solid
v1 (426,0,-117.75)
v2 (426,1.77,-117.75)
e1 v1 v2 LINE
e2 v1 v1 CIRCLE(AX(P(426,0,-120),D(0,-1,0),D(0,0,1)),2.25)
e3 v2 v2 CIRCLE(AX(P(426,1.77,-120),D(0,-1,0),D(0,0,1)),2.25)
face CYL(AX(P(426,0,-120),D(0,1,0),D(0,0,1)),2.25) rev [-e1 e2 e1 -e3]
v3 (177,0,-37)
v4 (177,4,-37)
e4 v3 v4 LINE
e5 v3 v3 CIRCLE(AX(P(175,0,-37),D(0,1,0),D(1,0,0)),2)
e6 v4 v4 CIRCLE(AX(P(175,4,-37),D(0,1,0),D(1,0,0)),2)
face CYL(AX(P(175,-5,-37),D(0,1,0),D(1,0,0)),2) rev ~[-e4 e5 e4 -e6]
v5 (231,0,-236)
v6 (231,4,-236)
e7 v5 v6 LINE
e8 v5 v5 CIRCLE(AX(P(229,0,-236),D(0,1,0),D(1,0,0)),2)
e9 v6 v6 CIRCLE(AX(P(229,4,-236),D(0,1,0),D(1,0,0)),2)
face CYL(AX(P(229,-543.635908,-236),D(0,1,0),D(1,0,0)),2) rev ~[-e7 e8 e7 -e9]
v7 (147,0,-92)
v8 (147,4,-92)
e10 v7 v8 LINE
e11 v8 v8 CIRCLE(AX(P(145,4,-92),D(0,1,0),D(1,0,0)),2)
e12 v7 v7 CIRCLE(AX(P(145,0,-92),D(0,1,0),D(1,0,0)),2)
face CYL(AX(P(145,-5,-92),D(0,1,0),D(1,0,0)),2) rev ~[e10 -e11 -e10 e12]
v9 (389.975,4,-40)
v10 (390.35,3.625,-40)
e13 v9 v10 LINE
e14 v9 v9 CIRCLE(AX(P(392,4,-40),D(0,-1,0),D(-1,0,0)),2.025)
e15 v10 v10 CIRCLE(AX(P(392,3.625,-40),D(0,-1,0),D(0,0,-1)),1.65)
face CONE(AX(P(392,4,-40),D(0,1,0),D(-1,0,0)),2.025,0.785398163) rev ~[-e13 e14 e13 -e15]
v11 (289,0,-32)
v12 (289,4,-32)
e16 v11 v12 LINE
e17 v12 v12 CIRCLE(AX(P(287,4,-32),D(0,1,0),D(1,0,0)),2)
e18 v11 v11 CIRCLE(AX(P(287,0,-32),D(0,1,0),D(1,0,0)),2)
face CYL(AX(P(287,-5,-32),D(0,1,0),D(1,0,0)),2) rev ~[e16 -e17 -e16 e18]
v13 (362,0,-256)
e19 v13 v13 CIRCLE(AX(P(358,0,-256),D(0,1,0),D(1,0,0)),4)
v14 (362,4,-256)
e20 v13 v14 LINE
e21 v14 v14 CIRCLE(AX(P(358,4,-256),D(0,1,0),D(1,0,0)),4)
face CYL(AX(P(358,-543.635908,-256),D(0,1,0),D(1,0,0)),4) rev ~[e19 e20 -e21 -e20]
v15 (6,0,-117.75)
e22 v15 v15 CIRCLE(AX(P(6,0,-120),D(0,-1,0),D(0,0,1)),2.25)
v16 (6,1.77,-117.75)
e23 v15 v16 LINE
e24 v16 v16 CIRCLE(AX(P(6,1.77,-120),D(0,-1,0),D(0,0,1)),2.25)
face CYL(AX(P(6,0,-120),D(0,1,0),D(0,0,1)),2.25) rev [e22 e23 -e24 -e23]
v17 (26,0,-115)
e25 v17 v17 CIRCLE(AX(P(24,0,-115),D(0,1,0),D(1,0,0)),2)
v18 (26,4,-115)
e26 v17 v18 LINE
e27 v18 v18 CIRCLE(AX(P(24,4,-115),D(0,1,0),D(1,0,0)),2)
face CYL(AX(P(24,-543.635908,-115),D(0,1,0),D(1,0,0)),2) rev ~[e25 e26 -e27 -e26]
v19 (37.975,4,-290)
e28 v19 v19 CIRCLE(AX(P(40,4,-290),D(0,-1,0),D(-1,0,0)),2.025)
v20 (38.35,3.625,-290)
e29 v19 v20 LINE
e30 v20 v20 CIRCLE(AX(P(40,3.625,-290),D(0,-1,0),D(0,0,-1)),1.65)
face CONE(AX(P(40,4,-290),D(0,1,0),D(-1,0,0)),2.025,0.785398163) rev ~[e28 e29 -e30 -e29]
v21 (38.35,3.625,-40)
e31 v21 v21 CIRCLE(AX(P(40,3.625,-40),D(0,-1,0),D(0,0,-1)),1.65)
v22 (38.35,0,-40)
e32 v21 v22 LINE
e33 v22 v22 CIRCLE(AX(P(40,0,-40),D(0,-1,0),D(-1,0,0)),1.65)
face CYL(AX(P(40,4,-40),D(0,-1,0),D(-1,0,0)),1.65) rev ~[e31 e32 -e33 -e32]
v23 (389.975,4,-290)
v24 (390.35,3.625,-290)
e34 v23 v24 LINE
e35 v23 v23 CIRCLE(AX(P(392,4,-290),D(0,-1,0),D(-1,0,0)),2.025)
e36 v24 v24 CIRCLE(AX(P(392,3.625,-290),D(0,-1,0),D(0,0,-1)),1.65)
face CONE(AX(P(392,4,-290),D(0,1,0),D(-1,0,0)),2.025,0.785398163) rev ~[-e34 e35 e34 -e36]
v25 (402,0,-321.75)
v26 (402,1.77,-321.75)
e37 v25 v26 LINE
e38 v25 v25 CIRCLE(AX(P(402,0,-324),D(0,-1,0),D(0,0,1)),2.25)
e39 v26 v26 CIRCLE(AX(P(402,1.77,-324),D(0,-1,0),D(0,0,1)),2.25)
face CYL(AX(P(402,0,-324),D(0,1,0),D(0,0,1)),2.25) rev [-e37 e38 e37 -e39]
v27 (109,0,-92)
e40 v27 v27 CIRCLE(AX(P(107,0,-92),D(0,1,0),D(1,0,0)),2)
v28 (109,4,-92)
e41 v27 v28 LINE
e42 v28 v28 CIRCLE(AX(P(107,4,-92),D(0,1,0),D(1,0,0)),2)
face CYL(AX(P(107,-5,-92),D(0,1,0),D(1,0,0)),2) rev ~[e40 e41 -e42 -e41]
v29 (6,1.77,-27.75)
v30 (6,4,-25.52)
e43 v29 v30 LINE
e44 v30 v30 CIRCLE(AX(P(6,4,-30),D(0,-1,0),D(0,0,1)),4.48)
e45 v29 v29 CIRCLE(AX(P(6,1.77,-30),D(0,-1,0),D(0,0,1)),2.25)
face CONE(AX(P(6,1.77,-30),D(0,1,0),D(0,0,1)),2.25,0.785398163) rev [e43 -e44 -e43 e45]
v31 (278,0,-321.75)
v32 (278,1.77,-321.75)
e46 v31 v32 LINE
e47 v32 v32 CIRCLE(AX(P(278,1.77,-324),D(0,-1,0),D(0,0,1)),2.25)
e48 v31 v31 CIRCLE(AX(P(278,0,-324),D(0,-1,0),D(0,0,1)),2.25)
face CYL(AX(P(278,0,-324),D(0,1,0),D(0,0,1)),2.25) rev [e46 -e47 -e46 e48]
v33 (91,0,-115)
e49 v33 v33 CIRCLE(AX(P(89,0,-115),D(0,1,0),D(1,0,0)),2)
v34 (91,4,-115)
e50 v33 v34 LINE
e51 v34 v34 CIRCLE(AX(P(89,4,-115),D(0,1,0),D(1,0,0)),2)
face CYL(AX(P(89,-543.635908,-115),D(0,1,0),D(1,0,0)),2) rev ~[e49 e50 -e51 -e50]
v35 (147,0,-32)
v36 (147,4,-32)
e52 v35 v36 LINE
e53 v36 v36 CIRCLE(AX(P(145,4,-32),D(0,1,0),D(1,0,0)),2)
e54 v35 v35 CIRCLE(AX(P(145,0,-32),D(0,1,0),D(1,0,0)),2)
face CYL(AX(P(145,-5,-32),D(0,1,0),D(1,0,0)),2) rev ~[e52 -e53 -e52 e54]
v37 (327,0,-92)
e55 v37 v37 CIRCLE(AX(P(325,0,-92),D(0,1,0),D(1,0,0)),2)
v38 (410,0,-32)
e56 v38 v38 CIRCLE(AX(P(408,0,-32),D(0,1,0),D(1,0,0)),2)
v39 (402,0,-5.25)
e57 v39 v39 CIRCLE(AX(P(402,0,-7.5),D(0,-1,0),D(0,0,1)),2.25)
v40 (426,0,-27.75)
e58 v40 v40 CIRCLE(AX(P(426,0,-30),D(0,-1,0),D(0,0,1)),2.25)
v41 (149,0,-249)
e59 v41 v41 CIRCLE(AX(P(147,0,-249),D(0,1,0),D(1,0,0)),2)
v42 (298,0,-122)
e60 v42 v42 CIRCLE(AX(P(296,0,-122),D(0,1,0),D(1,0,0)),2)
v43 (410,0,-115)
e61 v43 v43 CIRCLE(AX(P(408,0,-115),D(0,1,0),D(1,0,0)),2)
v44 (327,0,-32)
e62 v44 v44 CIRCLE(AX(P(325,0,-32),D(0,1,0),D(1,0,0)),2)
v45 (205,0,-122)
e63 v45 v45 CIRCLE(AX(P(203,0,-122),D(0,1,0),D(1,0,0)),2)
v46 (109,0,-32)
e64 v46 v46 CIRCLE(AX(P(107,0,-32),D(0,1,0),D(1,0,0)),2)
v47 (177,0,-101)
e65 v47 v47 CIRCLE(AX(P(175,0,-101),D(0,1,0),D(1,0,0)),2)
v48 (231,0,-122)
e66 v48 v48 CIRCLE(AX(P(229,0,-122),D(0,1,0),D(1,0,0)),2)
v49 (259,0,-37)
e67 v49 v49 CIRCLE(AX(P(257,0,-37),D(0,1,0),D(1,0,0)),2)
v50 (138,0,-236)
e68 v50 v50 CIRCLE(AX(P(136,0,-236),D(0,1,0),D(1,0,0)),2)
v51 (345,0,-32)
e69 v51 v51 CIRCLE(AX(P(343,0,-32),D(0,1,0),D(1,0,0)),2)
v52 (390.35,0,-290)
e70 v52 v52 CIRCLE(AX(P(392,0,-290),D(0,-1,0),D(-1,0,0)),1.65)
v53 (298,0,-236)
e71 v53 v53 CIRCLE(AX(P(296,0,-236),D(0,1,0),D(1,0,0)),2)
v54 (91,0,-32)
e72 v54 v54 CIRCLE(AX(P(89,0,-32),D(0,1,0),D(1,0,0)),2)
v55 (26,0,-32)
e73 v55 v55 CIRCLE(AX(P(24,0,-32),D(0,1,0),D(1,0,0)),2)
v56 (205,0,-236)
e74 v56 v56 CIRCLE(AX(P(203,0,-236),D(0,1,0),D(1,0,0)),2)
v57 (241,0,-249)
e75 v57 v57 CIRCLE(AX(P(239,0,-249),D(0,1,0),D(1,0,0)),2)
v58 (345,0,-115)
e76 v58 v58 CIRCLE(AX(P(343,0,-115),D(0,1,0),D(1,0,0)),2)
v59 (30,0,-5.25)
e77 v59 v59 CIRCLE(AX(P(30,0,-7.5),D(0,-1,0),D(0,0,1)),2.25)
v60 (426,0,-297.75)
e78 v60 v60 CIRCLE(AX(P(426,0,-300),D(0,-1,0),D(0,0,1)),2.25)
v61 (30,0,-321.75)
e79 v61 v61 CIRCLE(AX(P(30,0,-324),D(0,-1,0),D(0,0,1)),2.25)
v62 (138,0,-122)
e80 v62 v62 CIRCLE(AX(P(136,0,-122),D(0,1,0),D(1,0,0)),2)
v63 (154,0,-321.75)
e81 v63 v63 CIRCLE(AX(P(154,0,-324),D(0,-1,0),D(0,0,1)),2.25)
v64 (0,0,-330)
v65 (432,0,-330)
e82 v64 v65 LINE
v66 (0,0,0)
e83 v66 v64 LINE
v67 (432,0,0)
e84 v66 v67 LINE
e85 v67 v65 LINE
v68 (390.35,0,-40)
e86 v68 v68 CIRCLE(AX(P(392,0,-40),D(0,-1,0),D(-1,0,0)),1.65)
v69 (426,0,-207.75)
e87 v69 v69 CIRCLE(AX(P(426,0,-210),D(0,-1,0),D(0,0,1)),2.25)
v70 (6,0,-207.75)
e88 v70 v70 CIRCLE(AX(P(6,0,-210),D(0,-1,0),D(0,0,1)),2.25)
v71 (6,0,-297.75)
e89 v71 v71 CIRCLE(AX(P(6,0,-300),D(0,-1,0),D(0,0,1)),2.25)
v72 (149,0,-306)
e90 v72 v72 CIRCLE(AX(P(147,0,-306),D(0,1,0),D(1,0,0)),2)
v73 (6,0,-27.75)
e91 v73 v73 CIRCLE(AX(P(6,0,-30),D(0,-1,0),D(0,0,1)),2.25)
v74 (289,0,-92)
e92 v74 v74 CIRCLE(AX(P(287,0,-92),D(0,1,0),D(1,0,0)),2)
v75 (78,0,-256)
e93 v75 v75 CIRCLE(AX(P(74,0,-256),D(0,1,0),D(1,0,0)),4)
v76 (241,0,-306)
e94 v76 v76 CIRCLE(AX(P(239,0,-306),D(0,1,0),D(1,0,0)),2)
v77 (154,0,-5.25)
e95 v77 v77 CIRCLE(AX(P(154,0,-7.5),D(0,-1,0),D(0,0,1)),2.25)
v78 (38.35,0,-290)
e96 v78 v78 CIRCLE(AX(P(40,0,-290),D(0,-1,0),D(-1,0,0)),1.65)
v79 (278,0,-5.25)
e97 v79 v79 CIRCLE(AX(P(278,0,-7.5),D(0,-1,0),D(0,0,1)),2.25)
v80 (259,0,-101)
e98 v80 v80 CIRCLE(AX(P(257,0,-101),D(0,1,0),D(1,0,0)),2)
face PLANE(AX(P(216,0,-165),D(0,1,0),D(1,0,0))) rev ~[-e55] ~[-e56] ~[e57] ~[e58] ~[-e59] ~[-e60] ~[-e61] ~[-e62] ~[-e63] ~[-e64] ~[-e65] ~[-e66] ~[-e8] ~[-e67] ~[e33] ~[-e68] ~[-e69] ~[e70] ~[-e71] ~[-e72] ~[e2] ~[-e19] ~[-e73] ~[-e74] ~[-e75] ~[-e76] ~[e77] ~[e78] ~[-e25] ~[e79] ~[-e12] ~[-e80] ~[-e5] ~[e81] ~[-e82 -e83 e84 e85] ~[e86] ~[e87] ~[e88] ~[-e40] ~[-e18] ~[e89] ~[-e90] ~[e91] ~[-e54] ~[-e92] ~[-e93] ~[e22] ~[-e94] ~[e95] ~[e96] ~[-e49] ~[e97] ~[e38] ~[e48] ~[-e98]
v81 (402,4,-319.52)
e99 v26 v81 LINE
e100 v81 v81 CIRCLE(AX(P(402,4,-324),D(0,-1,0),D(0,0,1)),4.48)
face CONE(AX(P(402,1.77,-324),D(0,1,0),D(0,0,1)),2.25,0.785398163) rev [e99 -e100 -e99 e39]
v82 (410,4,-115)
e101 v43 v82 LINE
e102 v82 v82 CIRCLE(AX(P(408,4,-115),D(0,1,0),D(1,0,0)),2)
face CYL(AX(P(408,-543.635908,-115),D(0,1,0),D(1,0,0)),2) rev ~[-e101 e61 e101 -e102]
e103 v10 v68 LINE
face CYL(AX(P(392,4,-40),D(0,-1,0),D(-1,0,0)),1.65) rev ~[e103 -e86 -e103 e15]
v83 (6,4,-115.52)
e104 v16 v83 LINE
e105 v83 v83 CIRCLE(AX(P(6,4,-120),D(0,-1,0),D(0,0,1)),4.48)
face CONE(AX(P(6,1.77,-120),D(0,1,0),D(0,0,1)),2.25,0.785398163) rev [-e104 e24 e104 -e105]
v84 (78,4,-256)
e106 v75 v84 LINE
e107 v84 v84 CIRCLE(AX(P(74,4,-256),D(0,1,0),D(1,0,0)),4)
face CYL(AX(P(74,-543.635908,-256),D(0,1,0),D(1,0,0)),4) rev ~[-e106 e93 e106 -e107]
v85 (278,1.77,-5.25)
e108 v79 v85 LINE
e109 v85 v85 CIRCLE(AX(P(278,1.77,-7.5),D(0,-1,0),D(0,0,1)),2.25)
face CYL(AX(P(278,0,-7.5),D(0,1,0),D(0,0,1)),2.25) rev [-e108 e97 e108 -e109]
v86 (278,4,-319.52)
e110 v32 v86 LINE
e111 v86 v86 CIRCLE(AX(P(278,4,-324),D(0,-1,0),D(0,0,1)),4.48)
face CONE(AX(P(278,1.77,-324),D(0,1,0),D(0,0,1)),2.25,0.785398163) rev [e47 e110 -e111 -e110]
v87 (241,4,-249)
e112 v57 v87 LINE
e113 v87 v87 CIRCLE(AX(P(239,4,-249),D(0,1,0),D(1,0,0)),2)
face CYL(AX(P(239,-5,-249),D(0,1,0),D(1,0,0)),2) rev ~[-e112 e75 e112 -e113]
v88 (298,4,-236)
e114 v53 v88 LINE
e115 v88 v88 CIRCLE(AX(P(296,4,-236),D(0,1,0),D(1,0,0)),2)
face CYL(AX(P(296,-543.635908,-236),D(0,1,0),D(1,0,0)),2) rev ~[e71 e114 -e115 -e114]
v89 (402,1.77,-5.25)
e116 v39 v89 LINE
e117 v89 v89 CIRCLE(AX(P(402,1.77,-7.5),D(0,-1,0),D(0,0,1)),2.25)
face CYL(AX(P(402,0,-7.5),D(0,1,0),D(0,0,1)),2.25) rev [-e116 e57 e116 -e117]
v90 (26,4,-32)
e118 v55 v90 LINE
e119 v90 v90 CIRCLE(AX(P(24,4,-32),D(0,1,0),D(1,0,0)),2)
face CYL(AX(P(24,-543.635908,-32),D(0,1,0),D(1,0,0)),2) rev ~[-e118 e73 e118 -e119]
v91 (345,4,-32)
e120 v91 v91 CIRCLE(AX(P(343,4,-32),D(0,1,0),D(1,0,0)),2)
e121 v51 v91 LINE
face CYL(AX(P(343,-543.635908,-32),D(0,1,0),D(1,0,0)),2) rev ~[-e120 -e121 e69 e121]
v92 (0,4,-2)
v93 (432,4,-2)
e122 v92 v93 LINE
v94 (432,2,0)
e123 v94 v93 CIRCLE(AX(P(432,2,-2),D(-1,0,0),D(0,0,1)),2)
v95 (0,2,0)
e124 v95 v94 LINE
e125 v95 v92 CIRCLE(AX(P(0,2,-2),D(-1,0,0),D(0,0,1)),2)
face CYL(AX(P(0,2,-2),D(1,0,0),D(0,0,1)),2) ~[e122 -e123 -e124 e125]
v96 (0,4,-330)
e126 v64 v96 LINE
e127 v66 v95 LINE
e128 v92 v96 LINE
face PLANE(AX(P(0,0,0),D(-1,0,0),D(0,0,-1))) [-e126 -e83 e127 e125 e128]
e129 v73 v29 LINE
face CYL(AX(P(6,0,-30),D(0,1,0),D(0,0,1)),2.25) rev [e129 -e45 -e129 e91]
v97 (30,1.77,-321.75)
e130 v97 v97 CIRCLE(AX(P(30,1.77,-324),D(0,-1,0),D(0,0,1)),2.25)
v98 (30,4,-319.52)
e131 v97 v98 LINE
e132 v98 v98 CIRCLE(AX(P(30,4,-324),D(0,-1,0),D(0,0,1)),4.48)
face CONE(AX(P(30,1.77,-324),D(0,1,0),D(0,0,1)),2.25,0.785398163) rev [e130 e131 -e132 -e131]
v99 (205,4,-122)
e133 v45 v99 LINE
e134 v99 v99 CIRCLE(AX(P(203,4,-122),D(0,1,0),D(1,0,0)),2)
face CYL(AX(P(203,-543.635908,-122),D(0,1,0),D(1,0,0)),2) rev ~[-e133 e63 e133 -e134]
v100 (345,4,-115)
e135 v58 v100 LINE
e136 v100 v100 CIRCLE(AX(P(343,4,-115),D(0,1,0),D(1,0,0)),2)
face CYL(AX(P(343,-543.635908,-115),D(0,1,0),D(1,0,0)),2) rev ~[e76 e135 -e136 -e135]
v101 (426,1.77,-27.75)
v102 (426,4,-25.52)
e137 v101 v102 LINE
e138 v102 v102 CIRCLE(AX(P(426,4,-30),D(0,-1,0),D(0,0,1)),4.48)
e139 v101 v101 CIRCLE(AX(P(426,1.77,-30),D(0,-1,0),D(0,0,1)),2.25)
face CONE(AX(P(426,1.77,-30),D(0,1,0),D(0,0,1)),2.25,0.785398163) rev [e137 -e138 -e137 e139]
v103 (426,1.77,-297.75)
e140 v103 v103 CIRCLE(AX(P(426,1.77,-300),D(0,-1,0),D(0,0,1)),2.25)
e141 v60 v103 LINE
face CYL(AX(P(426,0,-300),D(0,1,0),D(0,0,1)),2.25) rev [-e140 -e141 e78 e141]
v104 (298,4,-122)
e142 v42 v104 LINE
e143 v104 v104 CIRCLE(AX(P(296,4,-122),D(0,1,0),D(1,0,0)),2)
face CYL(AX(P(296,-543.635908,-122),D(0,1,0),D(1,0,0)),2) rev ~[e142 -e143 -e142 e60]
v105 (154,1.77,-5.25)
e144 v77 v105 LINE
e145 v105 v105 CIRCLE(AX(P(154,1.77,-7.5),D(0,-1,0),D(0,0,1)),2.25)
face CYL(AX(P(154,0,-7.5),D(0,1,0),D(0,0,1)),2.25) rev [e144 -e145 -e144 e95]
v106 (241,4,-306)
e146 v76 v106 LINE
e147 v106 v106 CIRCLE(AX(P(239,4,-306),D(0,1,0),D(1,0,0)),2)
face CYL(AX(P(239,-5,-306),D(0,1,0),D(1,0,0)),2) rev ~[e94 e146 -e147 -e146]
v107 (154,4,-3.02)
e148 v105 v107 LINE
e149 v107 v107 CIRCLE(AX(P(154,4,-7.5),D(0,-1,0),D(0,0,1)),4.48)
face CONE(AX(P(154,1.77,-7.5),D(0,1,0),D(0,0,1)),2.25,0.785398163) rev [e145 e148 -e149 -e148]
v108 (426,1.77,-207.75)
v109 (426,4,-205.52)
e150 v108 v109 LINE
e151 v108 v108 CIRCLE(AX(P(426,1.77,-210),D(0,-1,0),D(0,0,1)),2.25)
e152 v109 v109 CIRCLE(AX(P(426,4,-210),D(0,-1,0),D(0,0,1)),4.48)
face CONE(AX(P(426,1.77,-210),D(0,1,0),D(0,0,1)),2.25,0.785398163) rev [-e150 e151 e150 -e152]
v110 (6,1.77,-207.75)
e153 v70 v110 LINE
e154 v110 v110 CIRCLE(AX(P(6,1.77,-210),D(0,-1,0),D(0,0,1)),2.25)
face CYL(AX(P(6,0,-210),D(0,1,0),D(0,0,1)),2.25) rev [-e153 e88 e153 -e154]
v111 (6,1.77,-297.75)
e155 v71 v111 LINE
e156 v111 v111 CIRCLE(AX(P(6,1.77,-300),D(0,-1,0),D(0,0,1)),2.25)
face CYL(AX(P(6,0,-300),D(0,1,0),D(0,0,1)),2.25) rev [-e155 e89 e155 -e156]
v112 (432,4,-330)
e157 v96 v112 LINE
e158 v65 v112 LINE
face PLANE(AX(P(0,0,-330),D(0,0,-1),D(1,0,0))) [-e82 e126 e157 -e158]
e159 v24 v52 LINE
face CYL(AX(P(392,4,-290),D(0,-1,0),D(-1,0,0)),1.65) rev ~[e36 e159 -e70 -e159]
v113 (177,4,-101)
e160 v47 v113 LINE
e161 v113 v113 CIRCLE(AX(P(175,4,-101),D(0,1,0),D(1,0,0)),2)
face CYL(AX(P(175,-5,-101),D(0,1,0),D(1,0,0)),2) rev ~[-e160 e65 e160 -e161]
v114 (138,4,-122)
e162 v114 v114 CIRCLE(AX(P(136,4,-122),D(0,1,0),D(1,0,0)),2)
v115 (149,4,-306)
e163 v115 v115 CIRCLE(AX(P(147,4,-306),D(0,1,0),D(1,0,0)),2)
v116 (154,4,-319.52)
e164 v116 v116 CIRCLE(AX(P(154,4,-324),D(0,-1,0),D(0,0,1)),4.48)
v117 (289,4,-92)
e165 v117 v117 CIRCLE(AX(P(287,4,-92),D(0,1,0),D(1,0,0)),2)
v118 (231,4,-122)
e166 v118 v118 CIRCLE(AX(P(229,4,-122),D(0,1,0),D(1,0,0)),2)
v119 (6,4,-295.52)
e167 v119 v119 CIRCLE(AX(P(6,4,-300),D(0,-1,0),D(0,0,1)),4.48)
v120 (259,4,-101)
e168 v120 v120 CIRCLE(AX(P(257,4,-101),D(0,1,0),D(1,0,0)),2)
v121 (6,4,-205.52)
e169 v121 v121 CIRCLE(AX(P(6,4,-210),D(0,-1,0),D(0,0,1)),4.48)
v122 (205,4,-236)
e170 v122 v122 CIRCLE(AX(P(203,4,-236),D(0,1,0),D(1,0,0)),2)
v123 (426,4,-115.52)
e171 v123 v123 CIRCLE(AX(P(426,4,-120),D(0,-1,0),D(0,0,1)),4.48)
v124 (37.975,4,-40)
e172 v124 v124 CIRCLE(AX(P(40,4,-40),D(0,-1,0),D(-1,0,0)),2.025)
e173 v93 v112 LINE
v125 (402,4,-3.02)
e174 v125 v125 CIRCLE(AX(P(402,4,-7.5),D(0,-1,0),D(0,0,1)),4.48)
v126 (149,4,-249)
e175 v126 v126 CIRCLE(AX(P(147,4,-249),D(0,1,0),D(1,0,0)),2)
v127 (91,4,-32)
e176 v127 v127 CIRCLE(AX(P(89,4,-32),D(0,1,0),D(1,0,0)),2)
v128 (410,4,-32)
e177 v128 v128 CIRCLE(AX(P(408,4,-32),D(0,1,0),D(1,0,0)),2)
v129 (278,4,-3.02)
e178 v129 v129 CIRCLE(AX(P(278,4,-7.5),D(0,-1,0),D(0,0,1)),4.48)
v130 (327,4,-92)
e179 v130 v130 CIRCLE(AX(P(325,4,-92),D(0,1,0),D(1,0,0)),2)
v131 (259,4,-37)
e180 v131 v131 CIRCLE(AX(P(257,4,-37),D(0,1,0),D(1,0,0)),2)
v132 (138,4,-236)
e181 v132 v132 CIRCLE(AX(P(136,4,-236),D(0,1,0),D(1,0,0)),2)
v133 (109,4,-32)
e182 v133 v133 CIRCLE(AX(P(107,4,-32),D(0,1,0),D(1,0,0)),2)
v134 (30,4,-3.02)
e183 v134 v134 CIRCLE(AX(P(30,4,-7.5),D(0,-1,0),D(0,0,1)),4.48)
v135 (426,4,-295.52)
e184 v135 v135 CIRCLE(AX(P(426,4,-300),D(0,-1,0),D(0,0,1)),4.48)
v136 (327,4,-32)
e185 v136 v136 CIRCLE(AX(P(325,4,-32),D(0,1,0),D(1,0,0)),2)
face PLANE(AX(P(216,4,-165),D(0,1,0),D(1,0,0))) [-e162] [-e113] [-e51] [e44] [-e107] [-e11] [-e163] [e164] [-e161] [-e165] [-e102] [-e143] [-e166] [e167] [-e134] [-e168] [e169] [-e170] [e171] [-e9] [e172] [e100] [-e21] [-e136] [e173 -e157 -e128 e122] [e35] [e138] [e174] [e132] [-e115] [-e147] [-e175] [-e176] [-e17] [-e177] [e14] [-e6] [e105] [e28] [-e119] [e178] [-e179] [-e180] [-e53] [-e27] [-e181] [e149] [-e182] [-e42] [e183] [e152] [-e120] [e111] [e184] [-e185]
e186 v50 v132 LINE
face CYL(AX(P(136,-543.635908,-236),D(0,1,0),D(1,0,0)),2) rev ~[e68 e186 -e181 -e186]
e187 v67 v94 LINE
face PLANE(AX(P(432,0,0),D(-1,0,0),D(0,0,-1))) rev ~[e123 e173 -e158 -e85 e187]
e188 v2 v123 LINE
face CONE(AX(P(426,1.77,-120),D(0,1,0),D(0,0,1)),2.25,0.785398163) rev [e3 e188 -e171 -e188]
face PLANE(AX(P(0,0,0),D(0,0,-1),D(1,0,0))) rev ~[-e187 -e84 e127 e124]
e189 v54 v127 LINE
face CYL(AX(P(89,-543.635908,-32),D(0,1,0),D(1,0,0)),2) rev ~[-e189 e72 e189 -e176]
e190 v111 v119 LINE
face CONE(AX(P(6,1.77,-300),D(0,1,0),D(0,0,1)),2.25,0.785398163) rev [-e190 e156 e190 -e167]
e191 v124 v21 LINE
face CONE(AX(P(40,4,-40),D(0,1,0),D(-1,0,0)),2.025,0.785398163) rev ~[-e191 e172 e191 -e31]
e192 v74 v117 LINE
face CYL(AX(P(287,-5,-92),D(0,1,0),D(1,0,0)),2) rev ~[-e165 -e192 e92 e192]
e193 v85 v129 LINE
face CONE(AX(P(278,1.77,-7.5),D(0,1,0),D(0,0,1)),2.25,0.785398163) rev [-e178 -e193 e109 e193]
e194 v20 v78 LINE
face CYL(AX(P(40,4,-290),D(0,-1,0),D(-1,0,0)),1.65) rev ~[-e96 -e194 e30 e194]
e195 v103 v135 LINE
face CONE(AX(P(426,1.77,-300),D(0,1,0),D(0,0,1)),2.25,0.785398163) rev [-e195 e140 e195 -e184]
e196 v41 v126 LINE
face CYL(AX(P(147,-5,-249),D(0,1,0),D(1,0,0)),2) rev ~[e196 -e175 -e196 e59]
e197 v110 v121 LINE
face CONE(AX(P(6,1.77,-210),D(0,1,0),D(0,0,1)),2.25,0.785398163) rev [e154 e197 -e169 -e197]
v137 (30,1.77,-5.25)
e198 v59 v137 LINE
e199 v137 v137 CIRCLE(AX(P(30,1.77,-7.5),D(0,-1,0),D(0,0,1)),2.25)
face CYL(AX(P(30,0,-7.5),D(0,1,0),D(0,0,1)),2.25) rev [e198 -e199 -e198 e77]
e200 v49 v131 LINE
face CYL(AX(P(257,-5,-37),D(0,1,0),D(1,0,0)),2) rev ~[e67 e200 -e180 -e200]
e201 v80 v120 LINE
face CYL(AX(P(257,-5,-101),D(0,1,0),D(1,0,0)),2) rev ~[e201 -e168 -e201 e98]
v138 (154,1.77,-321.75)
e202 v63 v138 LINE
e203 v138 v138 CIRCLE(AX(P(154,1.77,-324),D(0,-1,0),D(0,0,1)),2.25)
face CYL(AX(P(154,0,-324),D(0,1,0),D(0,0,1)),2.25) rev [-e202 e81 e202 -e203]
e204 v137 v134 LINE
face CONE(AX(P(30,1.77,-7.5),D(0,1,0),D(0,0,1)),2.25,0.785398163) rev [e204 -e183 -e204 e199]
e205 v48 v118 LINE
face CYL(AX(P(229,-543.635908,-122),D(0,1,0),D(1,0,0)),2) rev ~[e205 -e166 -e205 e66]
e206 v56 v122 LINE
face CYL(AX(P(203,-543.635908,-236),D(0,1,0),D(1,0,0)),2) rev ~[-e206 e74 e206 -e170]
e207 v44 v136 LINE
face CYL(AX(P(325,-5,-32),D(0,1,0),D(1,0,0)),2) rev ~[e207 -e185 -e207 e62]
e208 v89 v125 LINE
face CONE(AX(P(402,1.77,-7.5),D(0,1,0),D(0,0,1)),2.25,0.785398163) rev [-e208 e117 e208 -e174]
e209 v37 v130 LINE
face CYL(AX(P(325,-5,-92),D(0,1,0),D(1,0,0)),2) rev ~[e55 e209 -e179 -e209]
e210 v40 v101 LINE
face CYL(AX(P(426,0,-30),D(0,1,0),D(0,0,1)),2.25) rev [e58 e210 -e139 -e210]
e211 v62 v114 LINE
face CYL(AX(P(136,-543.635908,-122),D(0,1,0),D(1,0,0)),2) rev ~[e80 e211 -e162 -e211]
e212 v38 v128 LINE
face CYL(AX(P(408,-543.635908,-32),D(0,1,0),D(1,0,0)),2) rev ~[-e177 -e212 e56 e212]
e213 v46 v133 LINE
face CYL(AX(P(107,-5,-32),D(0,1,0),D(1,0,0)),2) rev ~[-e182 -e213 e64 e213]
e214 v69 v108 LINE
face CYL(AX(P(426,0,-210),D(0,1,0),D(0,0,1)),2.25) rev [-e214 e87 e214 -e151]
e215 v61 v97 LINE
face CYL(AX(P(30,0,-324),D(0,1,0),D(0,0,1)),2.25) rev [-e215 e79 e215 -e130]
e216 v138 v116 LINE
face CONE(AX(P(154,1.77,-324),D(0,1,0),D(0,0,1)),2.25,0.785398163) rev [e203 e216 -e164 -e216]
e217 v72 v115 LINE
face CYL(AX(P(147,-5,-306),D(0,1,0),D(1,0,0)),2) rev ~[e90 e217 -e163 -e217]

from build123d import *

# Parameters (mm, degrees)
SKETCH_1_W                     = 432
SKETCH_1_H                     = 330
EXTRUDE_1_DEPTH                = 4
HOLE_WIZARD_M4_1_AT_2_COUNT    = 2
HOLE_WIZARD_M4_1_AT_2_PITCH    = 90
HOLE_WIZARD_M4_1_AT_3_COUNT    = 2
HOLE_WIZARD_M4_1_AT_3_PITCH    = 180
HOLE_WIZARD_M4_1_AT_4_COUNT    = 2
HOLE_WIZARD_M4_1_AT_4_PITCH    = 270
HOLE_WIZARD_M4_1_AT_5_COUNT    = 2
HOLE_WIZARD_M4_1_AT_5_PITCH    = 293.48296373
HOLE_WIZARD_M4_1_AT_6_COUNT    = 2
HOLE_WIZARD_M4_1_AT_6_PITCH    = 327.811302429
HOLE_WIZARD_M4_1_AT_7_COUNT    = 2
HOLE_WIZARD_M4_1_AT_7_PITCH    = 399.424899074
HOLE_WIZARD_M4_1_AT_8_COUNT    = 2
HOLE_WIZARD_M4_1_AT_8_PITCH    = 492.31316253
HOLE_WIZARD_M4_1_AT_9_COUNT    = 2
HOLE_WIZARD_M4_1_AT_9_PITCH    = 499.299509313
HOLE_WIZARD_M4_1_AT_10_COUNT   = 2
HOLE_WIZARD_M4_1_AT_10_PITCH   = 456.946386352
HOLE_WIZARD_M4_1_AT_11_COUNT   = 2
HOLE_WIZARD_M4_1_AT_11_PITCH   = 429.534631898
HOLE_WIZARD_M4_1_AT_12_COUNT   = 2
HOLE_WIZARD_M4_1_AT_12_PITCH   = 420
HOLE_WIZARD_M4_1_AT_13_COUNT   = 2
HOLE_WIZARD_M4_1_AT_13_PITCH   = 396.726606116
HOLE_WIZARD_M4_1_AT_14_COUNT   = 2
HOLE_WIZARD_M4_1_AT_14_PITCH   = 273.056770654
HOLE_WIZARD_M4_1_AT_15_COUNT   = 2
HOLE_WIZARD_M4_1_AT_15_PITCH   = 149.933318512
HOLE_WIZARD_M4_1_AT_16_COUNT   = 2
HOLE_WIZARD_M4_1_AT_16_PITCH   = 33.941125497
FILLET_1_R                     = 2
HOLE_WIZARD_8_0_8_2_D          = 8
HOLE_WIZARD_4_0_4_1_D          = 4
HOLE_WIZARD_4_0_4_1_DEPTH      = 5
HOLE_WIZARD_4_0_4_1_TIP        = 1.201721238
HOLE_WIZARD_M4_1_2_D           = 3.3
HOLE_WIZARD_M4_1_2_CSINK_D     = 4.05
HOLE_WIZARD_M4_1_2_CSINK_ANGLE = 90
HOLE_WIZARD_4_0_4_2_D          = 4
HOLE_WIZARD_4_0_4_3_D          = 4
HOLE_WIZARD_4_0_4_3_DEPTH      = 5
HOLE_WIZARD_4_0_4_3_TIP        = 1.201721238


with BuildPart() as part:
    # 草圖1 → 填料-伸長1 (new body)
    with BuildSketch(Plane(origin=(0, 0, 0), x_dir=(1, 0, 0), z_dir=(0, 1, 0))):
        with Locations((216, 165)):
            Rectangle(SKETCH_1_W, SKETCH_1_H)
    extrude(amount=EXTRUDE_1_DEPTH)

    # 草圖2 → Hole Wizard M4 _1 (revolve, cut)
    with BuildSketch(Plane(origin=(6, 4, -300), x_dir=(0, 0, 1), z_dir=(1, 0, 0))):
        Polygon((0, 0), (0, 4), (2.25, 4), (2.25, 2.23), (4.48, 0), align=None)
    hole_wizard_m4_1 = revolve(axis=Axis((6, 10.35, -300), (0, -1, 0)), mode=Mode.SUBTRACT)

    # Hole Wizard M4 _1 at 2: Hole Wizard M4 _1 ×2
    with Locations(*[(0, 0, i * HOLE_WIZARD_M4_1_AT_2_PITCH) for i in range(1, HOLE_WIZARD_M4_1_AT_2_COUNT)]):
        add(hole_wizard_m4_1, mode=Mode.SUBTRACT)

    # Hole Wizard M4 _1 at 3: Hole Wizard M4 _1 ×2
    with Locations(*[(0, 0, i * HOLE_WIZARD_M4_1_AT_3_PITCH) for i in range(1, HOLE_WIZARD_M4_1_AT_3_COUNT)]):
        add(hole_wizard_m4_1, mode=Mode.SUBTRACT)

    # Hole Wizard M4 _1 at 4: Hole Wizard M4 _1 ×2
    with Locations(*[(0, 0, i * HOLE_WIZARD_M4_1_AT_4_PITCH) for i in range(1, HOLE_WIZARD_M4_1_AT_4_COUNT)]):
        add(hole_wizard_m4_1, mode=Mode.SUBTRACT)

    # Hole Wizard M4 _1 at 5: Hole Wizard M4 _1 ×2
    with Locations(*[Vector(0.081776467, 0, 0.996650696) * (i * HOLE_WIZARD_M4_1_AT_5_PITCH) for i in range(1, HOLE_WIZARD_M4_1_AT_5_COUNT)]):
        add(hole_wizard_m4_1, mode=Mode.SUBTRACT)

    # Hole Wizard M4 _1 at 6: Hole Wizard M4 _1 ×2
    with Locations(*[Vector(0.451479247, 0, 0.89228162) * (i * HOLE_WIZARD_M4_1_AT_6_PITCH) for i in range(1, HOLE_WIZARD_M4_1_AT_6_COUNT)]):
        add(hole_wizard_m4_1, mode=Mode.SUBTRACT)

    # Hole Wizard M4 _1 at 7: Hole Wizard M4 _1 ×2
    with Locations(*[Vector(0.680979079, 0, 0.73230287) * (i * HOLE_WIZARD_M4_1_AT_7_PITCH) for i in range(1, HOLE_WIZARD_M4_1_AT_7_COUNT)]):
        add(hole_wizard_m4_1, mode=Mode.SUBTRACT)

    # Hole Wizard M4 _1 at 8: Hole Wizard M4 _1 ×2
    with Locations(*[Vector(0.804366062, 0, 0.594134023) * (i * HOLE_WIZARD_M4_1_AT_8_PITCH) for i in range(1, HOLE_WIZARD_M4_1_AT_8_COUNT)]):
        add(hole_wizard_m4_1, mode=Mode.SUBTRACT)

    # Hole Wizard M4 _1 at 9: Hole Wizard M4 _1 ×2
    with Locations(*[Vector(0.841178475, 0, 0.540757591) * (i * HOLE_WIZARD_M4_1_AT_9_PITCH) for i in range(1, HOLE_WIZARD_M4_1_AT_9_COUNT)]):
        add(hole_wizard_m4_1, mode=Mode.SUBTRACT)

    # Hole Wizard M4 _1 at 10: Hole Wizard M4 _1 ×2
    with Locations(*[Vector(0.91914503, 0, 0.393919299) * (i * HOLE_WIZARD_M4_1_AT_10_PITCH) for i in range(1, HOLE_WIZARD_M4_1_AT_10_COUNT)]):
        add(hole_wizard_m4_1, mode=Mode.SUBTRACT)

    # Hole Wizard M4 _1 at 11: Hole Wizard M4 _1 ×2
    with Locations(*[Vector(0.977802414, 0, 0.209529089) * (i * HOLE_WIZARD_M4_1_AT_11_PITCH) for i in range(1, HOLE_WIZARD_M4_1_AT_11_COUNT)]):
        add(hole_wizard_m4_1, mode=Mode.SUBTRACT)

    # Hole Wizard M4 _1 at 12: Hole Wizard M4 _1 ×2
    with Locations(*[(i * HOLE_WIZARD_M4_1_AT_12_PITCH, 0, 0) for i in range(1, HOLE_WIZARD_M4_1_AT_12_COUNT)]):
        add(hole_wizard_m4_1, mode=Mode.SUBTRACT)

    # Hole Wizard M4 _1 at 13: Hole Wizard M4 _1 ×2
    with Locations(*[Vector(0.998168497, 0, -0.06049506) * (i * HOLE_WIZARD_M4_1_AT_13_PITCH) for i in range(1, HOLE_WIZARD_M4_1_AT_13_COUNT)]):
        add(hole_wizard_m4_1, mode=Mode.SUBTRACT)

    # Hole Wizard M4 _1 at 14: Hole Wizard M4 _1 ×2
    with Locations(*[Vector(0.99612985, 0, -0.08789381) * (i * HOLE_WIZARD_M4_1_AT_14_PITCH) for i in range(1, HOLE_WIZARD_M4_1_AT_14_COUNT)]):
        add(hole_wizard_m4_1, mode=Mode.SUBTRACT)

    # Hole Wizard M4 _1 at 15: Hole Wizard M4 _1 ×2
    with Locations(*[Vector(0.987105478, 0, -0.160071159) * (i * HOLE_WIZARD_M4_1_AT_15_PITCH) for i in range(1, HOLE_WIZARD_M4_1_AT_15_COUNT)]):
        add(hole_wizard_m4_1, mode=Mode.SUBTRACT)

    # Hole Wizard M4 _1 at 16: Hole Wizard M4 _1 ×2
    with Locations(*[Vector(0.707106781, 0, -0.707106781) * (i * HOLE_WIZARD_M4_1_AT_16_PITCH) for i in range(1, HOLE_WIZARD_M4_1_AT_16_COUNT)]):
        add(hole_wizard_m4_1, mode=Mode.SUBTRACT)

    # 圓角1
    fillet_1_edges = [part.edges().sort_by_distance(p)[0] for p in [
        (216, 4, 0),
    ]]
    fillet(fillet_1_edges, radius=FILLET_1_R)

    # Ø8.0 (8) 直徑孔2 (through all)
    with Locations(Plane(origin=(0, 0, 0), x_dir=(-1, 0, 0), z_dir=(0, -1, 0))):
        with Locations((-74, 256), (-358, 256)):
            Hole(HOLE_WIZARD_8_0_8_2_D / 2)

    # Ø4.0 (4) 直徑孔1
    with Locations(Plane(origin=(0, 0, 0), x_dir=(-1, 0, 0), z_dir=(0, -1, 0))):
        with Locations((-107, 32), (-145, 32), (-107, 92), (-145, 92), (-147, 249), (-239, 249), (-239, 306), (-147, 306), (-287, 92), (-325, 92), (-287, 32), (-325, 32)):
            Hole(HOLE_WIZARD_4_0_4_1_D / 2, depth=HOLE_WIZARD_4_0_4_1_DEPTH)
            with Locations((0, 0, -(HOLE_WIZARD_4_0_4_1_DEPTH + HOLE_WIZARD_4_0_4_1_TIP / 2))):  # 118° drill point
                Cone(0, HOLE_WIZARD_4_0_4_1_D / 2, HOLE_WIZARD_4_0_4_1_TIP, mode=Mode.SUBTRACT)

    # Hole Wizard M4 _1 2 (through all)
    with Locations(Plane(origin=(0, 4, 0), x_dir=(1, 0, 0), z_dir=(0, 1, 0))):
        with Locations((40, 290), (40, 40), (392, 40), (392, 290)):
            CounterSinkHole(HOLE_WIZARD_M4_1_2_D / 2, HOLE_WIZARD_M4_1_2_CSINK_D / 2, counter_sink_angle=HOLE_WIZARD_M4_1_2_CSINK_ANGLE)

    # Ø4.0 (4) 直徑孔2 (through all)
    with Locations(Plane(origin=(0, 0, 0), x_dir=(-1, 0, 0), z_dir=(0, -1, 0))):
        with Locations((-24, 32), (-89, 32), (-24, 115), (-89, 115), (-203, 122), (-203, 236), (-136, 236), (-136, 122), (-229, 122), (-296, 236), (-296, 122), (-408, 32), (-408, 115), (-343, 115), (-343, 32), (-229, 236)):
            Hole(HOLE_WIZARD_4_0_4_2_D / 2)

    # Ø4.0 (4) 直徑孔3
    with Locations(Plane(origin=(0, 0, 0), x_dir=(-1, 0, 0), z_dir=(0, -1, 0))):
        with Locations((-175, 37), (-257, 37), (-175, 101), (-257, 101)):
            Hole(HOLE_WIZARD_4_0_4_3_D / 2, depth=HOLE_WIZARD_4_0_4_3_DEPTH)
            with Locations((0, 0, -(HOLE_WIZARD_4_0_4_3_DEPTH + HOLE_WIZARD_4_0_4_3_TIP / 2))):  # 118° drill point
                Cone(0, HOLE_WIZARD_4_0_4_3_D / 2, HOLE_WIZARD_4_0_4_3_TIP, mode=Mode.SUBTRACT)


solid = part.part
